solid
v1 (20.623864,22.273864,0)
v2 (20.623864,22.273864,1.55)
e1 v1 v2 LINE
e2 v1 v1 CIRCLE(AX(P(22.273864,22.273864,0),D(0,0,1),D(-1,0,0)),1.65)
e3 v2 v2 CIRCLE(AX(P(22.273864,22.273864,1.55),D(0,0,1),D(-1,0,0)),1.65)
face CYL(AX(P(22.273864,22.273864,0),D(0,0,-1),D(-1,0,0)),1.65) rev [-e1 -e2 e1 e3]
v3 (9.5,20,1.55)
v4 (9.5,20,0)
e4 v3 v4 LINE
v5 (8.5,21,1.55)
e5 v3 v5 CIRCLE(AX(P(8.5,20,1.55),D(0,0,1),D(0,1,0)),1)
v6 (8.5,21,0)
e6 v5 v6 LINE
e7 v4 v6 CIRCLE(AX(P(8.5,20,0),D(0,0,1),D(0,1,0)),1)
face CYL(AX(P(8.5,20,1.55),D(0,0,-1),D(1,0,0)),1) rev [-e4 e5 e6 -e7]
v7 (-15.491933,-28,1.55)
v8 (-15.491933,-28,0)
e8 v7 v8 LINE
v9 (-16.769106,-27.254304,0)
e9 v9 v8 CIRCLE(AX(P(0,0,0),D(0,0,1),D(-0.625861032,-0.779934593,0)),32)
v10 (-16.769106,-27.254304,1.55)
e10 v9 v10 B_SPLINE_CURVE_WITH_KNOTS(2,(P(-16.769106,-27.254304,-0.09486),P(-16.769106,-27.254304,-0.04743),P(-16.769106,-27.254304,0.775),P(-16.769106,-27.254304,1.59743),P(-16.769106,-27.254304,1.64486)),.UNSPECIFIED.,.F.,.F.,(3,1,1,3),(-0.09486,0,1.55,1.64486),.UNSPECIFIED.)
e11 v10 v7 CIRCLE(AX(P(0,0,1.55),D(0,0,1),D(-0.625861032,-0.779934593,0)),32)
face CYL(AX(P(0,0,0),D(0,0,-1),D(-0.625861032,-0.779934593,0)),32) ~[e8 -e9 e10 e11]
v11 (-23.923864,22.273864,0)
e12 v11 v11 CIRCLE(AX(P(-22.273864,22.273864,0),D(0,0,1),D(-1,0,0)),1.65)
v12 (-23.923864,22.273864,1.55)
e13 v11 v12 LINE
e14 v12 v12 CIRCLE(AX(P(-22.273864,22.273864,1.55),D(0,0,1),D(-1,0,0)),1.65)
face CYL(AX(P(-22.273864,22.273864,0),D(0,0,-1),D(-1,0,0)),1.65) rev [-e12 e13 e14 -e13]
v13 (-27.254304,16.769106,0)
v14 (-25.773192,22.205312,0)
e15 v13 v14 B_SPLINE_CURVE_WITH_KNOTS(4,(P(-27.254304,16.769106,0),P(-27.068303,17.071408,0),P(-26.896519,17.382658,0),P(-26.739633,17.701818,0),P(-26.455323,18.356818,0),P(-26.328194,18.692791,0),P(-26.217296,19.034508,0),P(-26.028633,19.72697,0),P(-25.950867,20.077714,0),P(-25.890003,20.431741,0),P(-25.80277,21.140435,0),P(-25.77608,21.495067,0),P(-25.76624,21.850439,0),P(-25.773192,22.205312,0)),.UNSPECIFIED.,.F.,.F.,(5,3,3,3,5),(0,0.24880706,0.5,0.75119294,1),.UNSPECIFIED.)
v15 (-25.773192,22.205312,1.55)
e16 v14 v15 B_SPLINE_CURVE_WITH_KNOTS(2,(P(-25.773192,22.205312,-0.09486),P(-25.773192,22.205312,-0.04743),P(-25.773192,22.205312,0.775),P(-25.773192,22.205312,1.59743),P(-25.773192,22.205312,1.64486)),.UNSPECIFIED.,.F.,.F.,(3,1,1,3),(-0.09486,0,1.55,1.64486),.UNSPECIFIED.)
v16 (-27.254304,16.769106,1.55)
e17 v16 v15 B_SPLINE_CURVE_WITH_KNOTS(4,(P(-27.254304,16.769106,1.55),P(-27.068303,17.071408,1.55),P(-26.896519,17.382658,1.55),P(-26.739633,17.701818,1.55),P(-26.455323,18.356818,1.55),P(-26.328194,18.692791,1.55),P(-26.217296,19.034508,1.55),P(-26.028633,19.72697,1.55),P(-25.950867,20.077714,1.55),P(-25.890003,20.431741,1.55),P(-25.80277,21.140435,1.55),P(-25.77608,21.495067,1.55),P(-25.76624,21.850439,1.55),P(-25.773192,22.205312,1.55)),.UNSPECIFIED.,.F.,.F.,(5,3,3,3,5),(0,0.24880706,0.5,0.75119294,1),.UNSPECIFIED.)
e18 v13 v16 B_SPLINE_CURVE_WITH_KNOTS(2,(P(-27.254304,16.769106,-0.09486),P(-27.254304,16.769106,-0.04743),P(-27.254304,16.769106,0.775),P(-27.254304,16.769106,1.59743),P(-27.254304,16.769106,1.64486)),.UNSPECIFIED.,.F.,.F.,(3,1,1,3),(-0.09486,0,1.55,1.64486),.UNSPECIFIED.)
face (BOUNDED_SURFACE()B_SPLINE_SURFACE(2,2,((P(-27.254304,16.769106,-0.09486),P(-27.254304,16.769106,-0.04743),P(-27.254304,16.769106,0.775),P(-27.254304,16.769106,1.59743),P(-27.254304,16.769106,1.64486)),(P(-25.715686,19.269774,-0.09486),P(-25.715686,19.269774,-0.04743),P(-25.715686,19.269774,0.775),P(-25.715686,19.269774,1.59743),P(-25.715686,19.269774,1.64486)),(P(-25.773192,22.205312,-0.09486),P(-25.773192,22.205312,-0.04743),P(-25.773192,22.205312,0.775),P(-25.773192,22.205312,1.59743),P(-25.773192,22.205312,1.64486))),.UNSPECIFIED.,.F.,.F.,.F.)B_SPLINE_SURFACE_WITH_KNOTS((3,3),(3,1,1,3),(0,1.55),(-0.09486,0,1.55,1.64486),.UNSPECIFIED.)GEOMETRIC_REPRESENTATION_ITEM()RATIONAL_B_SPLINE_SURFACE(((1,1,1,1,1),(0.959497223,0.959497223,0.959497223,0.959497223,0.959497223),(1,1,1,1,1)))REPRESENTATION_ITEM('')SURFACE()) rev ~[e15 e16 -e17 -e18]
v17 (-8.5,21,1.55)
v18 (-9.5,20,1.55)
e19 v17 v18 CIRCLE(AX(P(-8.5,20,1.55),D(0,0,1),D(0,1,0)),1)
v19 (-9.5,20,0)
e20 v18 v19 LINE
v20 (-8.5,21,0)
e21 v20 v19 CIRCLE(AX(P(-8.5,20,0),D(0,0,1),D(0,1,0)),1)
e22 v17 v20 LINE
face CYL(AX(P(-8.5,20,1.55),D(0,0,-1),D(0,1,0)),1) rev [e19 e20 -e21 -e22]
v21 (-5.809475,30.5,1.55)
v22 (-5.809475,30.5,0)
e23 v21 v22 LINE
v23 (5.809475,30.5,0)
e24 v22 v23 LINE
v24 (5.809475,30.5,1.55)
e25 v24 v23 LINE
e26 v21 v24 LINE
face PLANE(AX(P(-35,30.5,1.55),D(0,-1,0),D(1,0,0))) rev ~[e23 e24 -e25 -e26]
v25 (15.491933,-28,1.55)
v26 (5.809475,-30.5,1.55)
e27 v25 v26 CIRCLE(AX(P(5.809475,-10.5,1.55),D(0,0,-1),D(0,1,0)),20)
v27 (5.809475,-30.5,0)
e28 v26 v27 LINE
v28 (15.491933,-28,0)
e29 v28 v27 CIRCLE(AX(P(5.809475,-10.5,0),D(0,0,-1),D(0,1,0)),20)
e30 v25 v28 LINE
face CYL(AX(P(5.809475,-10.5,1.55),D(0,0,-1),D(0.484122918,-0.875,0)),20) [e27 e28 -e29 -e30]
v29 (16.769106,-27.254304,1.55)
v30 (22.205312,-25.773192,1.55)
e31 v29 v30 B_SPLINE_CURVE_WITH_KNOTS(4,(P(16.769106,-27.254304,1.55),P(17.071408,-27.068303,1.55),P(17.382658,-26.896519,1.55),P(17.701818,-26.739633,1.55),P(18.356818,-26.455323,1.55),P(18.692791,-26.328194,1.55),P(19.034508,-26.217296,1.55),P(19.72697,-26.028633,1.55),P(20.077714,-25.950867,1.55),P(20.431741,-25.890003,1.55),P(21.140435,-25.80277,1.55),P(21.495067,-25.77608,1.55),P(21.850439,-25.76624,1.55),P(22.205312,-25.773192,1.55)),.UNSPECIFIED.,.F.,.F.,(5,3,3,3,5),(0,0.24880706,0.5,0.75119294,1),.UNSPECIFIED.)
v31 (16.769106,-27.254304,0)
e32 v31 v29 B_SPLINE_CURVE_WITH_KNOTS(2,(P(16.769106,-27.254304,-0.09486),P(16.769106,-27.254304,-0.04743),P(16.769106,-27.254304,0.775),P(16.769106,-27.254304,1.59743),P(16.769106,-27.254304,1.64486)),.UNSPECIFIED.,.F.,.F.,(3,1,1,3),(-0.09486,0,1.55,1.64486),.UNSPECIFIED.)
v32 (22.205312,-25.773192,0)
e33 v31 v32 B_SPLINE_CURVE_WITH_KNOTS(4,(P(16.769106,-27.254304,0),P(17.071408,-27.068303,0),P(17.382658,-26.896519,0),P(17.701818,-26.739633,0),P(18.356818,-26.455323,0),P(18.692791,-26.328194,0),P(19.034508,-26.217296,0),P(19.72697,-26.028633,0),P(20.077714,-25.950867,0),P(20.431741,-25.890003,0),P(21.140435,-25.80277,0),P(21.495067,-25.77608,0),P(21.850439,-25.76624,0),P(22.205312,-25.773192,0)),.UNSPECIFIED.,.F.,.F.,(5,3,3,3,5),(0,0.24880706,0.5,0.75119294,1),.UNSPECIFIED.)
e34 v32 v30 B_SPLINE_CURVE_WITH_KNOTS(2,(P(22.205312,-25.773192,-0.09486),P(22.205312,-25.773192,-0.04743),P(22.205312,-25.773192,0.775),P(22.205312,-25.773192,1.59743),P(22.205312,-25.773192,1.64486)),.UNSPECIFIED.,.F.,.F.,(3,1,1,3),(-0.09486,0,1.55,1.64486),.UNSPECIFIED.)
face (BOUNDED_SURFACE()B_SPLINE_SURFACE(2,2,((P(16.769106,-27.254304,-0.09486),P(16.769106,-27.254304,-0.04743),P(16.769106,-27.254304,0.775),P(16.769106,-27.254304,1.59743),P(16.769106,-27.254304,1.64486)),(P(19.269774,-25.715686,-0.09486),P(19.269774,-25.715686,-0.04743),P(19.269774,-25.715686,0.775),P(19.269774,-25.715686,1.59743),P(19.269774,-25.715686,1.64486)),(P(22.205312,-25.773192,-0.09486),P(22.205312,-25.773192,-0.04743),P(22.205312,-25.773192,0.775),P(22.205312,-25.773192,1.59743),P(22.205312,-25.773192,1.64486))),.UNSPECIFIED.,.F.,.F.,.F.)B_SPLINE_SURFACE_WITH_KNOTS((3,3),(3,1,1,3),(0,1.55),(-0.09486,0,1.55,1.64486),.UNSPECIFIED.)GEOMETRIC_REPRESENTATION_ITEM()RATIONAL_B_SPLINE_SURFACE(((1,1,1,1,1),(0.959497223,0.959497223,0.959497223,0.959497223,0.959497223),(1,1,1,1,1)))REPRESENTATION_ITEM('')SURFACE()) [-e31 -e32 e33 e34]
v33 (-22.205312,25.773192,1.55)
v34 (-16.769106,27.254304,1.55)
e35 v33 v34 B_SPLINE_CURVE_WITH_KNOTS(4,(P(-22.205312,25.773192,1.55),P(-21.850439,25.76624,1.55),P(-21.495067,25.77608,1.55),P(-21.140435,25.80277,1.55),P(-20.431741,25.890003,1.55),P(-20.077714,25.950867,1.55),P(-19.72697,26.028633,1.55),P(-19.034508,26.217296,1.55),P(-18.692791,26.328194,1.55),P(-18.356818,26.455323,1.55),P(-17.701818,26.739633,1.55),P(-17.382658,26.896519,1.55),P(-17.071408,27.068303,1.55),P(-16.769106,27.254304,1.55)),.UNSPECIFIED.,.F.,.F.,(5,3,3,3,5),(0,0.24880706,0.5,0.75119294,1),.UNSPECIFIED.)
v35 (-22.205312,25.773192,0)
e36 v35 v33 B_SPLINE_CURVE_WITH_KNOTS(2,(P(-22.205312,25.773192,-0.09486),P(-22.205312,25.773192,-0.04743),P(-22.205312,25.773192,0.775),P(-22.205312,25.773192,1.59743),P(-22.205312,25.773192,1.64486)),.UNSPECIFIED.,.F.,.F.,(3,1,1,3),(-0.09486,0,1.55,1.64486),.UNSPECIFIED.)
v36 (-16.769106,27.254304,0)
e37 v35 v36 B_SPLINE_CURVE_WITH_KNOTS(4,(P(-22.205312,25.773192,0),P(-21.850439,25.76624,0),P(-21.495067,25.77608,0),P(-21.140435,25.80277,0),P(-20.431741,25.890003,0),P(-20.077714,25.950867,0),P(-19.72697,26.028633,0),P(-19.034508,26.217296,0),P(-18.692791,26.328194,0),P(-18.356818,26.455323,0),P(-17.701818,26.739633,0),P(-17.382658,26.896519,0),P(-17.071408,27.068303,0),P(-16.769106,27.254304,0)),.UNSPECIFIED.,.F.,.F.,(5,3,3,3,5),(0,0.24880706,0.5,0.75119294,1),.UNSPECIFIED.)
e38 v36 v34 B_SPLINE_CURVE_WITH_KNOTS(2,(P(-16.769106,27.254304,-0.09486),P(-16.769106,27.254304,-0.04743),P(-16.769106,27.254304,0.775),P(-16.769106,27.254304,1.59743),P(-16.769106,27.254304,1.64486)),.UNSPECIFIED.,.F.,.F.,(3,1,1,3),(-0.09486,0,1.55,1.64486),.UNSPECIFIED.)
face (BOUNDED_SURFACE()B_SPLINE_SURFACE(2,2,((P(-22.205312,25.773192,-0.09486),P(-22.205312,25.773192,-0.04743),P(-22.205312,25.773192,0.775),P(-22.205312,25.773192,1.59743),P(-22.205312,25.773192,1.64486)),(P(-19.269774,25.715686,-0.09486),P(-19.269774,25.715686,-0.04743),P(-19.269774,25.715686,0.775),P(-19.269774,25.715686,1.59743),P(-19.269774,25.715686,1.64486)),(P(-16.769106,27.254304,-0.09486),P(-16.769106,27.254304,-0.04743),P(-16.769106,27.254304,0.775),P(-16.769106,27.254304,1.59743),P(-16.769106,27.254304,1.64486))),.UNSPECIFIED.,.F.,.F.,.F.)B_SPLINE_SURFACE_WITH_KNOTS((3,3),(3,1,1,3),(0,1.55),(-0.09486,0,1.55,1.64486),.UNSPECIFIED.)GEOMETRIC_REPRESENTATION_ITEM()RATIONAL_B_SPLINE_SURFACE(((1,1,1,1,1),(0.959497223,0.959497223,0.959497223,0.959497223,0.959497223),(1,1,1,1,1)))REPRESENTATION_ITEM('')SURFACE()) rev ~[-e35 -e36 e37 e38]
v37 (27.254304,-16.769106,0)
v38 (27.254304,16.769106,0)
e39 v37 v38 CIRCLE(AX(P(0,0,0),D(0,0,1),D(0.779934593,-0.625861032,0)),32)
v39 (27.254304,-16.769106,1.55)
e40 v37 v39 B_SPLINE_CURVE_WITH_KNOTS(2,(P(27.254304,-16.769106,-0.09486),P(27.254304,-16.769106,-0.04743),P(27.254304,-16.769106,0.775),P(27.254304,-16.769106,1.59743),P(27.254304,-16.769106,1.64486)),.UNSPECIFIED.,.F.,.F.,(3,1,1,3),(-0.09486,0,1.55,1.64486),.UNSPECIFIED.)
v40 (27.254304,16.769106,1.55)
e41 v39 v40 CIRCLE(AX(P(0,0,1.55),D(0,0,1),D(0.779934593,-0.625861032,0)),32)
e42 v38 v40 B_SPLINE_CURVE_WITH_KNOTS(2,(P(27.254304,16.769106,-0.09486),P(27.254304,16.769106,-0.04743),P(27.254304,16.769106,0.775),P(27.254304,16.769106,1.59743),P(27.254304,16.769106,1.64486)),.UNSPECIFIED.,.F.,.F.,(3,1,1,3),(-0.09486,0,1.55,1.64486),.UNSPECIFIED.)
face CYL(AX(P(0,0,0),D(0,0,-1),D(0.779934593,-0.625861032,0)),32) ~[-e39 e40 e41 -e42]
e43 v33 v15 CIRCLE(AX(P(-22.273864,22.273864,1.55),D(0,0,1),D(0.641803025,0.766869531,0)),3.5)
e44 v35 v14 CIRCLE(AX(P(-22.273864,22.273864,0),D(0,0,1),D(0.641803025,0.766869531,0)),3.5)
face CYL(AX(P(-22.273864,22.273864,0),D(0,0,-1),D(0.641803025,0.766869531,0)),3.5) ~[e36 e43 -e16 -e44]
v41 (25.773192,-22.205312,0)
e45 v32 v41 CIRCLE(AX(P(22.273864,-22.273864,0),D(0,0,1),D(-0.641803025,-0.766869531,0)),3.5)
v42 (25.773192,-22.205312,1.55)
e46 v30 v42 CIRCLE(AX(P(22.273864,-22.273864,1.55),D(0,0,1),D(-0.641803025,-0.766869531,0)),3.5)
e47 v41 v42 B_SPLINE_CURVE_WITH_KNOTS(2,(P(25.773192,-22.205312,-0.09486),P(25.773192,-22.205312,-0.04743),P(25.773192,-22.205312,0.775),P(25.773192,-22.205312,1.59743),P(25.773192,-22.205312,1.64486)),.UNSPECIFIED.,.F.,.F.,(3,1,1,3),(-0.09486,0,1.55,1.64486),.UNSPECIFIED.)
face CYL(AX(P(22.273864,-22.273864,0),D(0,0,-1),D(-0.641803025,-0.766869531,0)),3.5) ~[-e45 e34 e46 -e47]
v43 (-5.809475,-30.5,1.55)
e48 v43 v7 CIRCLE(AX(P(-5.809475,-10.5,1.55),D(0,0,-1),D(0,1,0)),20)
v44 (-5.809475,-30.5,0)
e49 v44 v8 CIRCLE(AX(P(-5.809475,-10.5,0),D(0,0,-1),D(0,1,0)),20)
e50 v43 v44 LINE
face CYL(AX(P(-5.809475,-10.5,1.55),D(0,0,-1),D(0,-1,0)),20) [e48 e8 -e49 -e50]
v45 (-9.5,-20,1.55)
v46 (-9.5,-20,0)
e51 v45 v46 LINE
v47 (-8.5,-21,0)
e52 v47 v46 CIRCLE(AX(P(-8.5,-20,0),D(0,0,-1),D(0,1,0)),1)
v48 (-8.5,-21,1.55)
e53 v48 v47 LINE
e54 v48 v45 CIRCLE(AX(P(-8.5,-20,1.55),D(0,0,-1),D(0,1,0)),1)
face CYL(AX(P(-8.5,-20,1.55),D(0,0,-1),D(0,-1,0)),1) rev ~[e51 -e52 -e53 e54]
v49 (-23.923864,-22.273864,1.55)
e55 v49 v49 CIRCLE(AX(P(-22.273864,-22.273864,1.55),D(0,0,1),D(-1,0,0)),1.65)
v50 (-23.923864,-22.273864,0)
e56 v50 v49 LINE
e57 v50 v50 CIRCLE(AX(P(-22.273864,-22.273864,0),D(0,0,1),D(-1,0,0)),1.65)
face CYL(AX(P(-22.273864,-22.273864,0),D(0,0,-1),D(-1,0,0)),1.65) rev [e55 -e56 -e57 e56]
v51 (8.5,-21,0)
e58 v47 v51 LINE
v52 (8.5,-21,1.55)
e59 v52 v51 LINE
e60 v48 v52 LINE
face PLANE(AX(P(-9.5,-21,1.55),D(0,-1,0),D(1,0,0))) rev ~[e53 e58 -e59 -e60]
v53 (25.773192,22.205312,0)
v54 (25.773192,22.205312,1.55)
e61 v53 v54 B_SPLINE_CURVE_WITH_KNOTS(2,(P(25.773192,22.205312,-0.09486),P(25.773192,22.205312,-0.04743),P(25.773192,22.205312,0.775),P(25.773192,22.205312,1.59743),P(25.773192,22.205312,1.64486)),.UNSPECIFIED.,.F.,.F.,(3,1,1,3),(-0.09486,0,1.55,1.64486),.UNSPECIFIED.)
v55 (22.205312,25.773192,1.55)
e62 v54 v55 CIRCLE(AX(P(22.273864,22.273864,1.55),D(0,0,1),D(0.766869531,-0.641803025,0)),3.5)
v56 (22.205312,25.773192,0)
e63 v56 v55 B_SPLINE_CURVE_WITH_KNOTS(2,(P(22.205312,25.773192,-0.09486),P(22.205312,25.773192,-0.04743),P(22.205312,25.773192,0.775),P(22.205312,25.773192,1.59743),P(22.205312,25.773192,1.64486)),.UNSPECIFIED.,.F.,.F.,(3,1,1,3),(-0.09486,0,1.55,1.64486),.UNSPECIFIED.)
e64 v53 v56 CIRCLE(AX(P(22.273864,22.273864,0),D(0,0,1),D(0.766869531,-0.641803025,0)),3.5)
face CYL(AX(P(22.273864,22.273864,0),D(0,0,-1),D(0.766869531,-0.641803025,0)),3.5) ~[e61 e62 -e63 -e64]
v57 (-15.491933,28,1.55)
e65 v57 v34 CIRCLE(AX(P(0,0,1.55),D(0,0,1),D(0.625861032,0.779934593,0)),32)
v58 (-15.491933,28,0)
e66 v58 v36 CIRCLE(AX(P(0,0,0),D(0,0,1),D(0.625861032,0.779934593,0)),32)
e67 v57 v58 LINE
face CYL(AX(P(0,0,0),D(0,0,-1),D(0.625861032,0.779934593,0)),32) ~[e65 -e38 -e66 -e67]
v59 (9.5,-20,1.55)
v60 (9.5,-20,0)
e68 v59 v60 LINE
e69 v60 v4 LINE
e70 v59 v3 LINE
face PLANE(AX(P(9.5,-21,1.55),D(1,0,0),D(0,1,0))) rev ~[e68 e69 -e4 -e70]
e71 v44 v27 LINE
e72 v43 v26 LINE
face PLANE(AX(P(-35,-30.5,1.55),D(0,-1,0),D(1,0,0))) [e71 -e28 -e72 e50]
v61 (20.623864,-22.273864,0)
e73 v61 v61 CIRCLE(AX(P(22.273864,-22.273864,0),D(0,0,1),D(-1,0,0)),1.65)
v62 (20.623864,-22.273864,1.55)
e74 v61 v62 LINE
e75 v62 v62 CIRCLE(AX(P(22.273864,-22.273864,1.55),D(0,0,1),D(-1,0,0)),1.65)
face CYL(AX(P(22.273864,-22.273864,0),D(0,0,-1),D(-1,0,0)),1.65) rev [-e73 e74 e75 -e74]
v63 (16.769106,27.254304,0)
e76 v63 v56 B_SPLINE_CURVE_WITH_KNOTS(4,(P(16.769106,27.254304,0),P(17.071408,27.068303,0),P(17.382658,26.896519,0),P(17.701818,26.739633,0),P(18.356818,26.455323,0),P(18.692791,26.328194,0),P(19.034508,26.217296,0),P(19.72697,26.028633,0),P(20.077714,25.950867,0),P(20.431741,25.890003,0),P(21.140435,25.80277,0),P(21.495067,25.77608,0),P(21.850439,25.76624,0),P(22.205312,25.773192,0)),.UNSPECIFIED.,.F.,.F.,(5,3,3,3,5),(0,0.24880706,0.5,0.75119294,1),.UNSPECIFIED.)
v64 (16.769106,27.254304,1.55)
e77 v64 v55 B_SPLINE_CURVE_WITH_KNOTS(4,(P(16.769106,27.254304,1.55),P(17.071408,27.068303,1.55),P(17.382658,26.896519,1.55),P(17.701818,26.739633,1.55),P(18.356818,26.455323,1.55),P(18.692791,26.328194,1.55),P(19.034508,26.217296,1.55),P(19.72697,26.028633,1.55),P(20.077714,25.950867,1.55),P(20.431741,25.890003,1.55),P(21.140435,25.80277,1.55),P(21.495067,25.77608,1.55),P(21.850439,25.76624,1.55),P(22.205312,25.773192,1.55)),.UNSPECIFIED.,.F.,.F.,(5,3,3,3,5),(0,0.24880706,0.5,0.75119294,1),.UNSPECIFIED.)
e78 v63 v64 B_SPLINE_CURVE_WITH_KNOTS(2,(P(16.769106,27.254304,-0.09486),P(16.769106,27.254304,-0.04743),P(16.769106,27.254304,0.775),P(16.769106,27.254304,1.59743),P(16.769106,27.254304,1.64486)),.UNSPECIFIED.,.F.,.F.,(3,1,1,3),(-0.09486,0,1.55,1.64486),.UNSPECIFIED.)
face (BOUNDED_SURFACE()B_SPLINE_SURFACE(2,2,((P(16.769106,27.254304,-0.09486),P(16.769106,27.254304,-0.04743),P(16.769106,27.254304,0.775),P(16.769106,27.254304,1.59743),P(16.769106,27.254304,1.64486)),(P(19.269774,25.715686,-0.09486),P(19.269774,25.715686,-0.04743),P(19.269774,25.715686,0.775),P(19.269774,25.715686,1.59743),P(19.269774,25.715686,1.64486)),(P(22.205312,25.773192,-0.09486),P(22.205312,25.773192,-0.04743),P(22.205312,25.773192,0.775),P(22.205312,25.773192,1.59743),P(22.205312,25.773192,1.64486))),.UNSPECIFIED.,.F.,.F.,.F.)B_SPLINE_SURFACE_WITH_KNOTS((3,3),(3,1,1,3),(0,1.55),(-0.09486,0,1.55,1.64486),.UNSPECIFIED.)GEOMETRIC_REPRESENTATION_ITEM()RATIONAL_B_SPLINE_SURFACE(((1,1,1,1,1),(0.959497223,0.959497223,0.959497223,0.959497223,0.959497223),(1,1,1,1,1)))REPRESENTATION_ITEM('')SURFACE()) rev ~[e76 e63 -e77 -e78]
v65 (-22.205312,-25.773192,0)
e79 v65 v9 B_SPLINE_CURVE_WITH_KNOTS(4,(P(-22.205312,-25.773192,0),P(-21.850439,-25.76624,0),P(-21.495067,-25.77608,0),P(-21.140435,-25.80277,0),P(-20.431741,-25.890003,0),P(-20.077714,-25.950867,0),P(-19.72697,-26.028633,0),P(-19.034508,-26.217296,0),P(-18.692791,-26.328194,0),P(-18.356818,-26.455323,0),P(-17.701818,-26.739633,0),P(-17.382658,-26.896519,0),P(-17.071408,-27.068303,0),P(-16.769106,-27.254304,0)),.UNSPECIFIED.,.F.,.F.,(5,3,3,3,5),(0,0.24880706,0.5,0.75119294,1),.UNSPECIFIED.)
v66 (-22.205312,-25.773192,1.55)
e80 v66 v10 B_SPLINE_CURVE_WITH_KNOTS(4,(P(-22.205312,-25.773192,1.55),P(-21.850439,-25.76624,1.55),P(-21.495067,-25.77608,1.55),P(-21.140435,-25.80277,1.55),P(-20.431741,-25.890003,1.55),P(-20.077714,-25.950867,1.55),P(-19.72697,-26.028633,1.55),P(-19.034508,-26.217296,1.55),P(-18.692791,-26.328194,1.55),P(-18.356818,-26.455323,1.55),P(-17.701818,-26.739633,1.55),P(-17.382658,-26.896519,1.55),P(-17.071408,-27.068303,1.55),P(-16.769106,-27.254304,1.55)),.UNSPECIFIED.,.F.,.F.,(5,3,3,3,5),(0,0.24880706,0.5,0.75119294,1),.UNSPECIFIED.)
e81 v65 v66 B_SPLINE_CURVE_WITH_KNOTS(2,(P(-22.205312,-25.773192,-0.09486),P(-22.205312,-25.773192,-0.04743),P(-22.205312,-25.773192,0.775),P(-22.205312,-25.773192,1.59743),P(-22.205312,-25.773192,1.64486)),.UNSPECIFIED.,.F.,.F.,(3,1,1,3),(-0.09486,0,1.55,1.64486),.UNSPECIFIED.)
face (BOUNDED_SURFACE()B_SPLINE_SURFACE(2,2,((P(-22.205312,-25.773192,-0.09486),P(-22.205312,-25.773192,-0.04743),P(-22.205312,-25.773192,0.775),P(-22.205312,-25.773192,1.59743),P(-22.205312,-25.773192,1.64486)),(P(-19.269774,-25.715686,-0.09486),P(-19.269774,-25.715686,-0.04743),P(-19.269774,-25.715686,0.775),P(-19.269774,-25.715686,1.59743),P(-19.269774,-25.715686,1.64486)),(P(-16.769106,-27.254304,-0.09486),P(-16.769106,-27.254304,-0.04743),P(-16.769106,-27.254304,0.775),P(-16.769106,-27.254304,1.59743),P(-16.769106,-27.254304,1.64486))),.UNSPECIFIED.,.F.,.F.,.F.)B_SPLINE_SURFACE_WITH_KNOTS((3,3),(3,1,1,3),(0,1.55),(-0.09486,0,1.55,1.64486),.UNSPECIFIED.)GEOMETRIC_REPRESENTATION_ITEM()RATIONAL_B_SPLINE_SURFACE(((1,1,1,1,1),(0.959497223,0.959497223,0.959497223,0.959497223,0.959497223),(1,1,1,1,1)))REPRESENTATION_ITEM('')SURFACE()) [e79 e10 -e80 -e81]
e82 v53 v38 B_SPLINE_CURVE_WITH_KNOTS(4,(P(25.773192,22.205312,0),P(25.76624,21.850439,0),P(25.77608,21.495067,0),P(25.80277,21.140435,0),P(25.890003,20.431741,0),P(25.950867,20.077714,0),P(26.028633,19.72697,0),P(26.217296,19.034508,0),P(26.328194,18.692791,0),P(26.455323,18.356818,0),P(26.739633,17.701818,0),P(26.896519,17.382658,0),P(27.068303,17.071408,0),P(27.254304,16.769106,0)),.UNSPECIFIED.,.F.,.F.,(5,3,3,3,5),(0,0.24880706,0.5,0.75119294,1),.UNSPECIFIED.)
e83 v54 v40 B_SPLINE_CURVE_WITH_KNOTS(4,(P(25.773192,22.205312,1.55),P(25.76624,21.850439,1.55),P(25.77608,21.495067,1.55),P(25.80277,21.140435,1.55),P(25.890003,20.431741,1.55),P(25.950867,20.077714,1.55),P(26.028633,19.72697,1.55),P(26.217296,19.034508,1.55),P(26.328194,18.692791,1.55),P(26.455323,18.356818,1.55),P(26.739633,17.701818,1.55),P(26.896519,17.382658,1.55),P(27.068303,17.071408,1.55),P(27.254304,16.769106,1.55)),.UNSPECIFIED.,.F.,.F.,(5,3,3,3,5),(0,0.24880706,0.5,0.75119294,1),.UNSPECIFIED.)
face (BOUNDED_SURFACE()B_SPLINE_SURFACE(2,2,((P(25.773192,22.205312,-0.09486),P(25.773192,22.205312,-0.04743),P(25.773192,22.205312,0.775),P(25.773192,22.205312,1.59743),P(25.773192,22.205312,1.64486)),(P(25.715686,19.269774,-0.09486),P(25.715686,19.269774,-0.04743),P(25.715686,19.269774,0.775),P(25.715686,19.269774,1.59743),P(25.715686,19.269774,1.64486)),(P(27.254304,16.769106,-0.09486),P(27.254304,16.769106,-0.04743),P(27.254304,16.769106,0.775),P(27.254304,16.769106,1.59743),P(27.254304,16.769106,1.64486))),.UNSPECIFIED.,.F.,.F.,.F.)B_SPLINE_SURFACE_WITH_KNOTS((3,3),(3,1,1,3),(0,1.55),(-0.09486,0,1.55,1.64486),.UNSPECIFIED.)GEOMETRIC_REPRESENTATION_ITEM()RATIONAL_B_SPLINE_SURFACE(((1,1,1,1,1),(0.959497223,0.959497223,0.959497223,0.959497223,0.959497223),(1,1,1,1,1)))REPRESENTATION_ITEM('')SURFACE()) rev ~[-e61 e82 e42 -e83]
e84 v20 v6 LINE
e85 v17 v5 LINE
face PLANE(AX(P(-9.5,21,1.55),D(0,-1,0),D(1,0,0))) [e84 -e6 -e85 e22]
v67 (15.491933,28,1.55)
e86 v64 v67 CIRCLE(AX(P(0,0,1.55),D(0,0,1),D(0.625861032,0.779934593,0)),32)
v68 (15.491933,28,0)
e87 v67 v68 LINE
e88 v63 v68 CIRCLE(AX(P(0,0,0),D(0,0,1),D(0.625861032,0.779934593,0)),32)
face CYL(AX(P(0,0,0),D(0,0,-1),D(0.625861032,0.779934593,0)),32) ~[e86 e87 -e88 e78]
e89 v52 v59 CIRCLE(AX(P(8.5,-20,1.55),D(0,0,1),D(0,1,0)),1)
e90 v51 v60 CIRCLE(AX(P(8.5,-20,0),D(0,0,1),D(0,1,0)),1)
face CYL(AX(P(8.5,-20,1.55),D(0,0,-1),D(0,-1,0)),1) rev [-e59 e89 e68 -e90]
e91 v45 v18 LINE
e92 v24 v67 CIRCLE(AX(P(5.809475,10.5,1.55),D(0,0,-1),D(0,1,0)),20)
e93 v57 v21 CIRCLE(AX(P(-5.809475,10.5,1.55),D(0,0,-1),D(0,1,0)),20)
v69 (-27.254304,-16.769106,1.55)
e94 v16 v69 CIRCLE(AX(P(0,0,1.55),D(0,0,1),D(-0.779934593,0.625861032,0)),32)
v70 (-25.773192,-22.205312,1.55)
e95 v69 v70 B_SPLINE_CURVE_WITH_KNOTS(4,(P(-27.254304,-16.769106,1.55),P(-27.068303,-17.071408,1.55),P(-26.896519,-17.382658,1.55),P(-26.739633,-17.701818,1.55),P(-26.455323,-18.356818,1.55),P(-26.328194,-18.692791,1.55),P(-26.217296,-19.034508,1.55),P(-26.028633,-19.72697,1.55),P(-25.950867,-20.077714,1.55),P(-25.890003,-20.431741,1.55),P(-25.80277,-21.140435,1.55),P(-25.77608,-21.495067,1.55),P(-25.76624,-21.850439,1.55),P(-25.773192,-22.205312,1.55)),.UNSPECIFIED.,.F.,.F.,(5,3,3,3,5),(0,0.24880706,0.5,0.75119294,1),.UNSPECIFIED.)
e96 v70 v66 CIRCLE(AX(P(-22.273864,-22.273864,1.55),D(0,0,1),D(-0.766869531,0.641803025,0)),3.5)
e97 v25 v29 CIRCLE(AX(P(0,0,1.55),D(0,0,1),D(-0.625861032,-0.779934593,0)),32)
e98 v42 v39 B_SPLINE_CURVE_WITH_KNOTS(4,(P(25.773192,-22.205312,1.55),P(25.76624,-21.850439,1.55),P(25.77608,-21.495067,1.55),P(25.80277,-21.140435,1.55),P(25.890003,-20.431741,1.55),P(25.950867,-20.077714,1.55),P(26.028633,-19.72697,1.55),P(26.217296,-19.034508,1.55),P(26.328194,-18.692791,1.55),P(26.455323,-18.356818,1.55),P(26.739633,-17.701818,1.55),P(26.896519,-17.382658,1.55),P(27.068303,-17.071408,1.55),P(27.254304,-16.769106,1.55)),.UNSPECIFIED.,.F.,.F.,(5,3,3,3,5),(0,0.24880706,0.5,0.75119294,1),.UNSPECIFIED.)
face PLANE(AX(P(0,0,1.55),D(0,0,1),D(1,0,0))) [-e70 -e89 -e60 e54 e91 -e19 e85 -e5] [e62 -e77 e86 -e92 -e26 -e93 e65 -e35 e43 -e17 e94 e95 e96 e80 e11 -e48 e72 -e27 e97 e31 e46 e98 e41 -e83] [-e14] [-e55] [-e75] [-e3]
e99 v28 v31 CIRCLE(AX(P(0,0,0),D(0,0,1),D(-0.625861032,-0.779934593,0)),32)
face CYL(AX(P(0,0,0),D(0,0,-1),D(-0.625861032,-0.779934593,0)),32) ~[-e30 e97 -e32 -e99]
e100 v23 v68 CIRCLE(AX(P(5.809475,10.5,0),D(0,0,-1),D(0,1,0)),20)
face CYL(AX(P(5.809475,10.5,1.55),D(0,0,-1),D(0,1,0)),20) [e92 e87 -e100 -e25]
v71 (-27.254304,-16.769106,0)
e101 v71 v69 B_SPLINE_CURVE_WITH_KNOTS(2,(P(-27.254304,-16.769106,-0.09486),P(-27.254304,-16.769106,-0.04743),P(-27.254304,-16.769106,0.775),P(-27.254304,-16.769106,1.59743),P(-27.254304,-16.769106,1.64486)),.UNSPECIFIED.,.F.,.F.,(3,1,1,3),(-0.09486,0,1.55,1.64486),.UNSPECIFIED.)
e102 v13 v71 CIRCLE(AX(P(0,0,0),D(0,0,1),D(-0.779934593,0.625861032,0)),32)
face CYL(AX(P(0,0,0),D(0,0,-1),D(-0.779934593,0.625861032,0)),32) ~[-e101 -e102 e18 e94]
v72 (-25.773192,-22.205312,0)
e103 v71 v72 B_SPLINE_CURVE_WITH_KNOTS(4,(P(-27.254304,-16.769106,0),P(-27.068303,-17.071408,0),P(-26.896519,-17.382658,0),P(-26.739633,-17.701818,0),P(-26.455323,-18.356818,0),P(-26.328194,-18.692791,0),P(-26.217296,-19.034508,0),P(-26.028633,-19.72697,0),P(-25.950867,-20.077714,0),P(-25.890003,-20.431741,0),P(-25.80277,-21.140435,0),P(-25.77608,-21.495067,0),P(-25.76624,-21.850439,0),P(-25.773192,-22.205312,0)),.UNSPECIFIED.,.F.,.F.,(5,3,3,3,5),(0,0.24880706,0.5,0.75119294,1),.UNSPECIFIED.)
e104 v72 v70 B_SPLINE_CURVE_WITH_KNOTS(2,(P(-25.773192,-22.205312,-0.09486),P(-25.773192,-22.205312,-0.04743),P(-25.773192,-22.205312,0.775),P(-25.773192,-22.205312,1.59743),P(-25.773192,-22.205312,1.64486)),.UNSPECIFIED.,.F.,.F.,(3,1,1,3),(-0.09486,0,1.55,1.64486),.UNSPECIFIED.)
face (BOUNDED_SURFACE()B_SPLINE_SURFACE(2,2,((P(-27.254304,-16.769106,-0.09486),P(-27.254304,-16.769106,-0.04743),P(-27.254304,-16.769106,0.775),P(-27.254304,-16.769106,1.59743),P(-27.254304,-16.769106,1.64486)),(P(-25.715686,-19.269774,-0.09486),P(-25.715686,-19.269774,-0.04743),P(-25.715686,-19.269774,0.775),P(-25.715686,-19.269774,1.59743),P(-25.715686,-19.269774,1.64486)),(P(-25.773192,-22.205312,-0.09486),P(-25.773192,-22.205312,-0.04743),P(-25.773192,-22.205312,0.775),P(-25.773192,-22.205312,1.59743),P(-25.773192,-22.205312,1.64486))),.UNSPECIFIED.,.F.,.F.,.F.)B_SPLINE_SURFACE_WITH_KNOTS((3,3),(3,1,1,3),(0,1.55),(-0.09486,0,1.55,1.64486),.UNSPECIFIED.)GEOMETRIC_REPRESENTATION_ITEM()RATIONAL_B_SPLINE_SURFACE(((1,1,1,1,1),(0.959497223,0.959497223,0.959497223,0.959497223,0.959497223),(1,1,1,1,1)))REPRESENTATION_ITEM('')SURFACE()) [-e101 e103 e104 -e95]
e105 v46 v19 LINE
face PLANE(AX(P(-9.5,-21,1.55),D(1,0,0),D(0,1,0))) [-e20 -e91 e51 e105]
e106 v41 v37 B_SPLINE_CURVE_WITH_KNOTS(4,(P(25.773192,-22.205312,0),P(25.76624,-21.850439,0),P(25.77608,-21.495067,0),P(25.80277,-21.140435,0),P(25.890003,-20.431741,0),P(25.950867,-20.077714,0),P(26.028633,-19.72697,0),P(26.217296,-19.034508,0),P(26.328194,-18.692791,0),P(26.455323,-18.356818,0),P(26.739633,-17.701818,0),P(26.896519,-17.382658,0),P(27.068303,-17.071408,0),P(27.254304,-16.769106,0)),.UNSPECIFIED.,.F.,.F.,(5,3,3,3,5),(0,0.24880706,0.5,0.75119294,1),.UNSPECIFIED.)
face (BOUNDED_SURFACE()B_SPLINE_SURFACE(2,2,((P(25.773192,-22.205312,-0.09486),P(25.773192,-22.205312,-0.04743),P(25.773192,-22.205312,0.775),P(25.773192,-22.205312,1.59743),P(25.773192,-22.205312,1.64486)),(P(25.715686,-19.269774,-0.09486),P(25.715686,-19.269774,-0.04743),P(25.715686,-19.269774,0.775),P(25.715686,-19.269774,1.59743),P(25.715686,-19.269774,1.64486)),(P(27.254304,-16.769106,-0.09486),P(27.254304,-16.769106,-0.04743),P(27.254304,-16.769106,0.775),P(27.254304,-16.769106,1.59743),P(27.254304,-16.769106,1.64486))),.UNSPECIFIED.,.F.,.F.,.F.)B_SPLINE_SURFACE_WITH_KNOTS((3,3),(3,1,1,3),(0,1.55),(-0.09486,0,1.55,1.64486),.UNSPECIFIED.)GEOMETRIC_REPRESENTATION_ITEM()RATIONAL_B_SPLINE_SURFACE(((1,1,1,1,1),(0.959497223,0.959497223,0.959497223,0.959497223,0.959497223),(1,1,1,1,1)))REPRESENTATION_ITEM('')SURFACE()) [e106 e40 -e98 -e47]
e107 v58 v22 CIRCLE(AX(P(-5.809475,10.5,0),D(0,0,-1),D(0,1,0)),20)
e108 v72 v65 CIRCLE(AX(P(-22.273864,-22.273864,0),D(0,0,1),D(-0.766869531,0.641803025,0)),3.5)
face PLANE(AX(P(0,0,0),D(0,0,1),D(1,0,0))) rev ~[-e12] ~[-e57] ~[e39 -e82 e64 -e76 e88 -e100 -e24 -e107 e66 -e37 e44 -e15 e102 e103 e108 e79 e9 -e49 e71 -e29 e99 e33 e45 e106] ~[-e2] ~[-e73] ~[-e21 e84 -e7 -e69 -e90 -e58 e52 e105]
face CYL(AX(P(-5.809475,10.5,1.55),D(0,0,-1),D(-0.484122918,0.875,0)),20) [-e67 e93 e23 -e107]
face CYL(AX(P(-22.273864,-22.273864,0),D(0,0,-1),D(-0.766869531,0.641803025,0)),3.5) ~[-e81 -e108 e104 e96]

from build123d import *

# Parameters (mm, degrees)
ESQUISSE1_R             = 1.65
BOSS_EXTRU_1_DEPTH      = 1.55
ESQUISSE2_W             = 19
ESQUISSE2_H             = 42
ENL_V_MAT_EXTRU_1_DEPTH = 46.281370341
CONG_1_R                = 10
CONG_2_R                = 1
ESQUISSE3_OUTSIDE_W     = 84.104
ESQUISSE3_OUTSIDE_H     = 84.104
ESQUISSE3_OUTSIDE_W_2   = 70
ESQUISSE3_OUTSIDE_H_2   = 61
ENL_V_MAT_EXTRU_2_DEPTH = 46.281370486
CONG_3_R                = 20


with BuildPart() as part:
    # Esquisse1 → Boss.-Extru.1 (new body)
    with BuildSketch(Plane.XY):
        with BuildLine():
            ThreePointArc((-24.957906965, 20.02755302), (-32, 0), (-24.957906965, -20.02755302))
            ThreePointArc((-24.957906965, -20.02755302), (-24.748737342, -24.748737342), (-20.02755302, -24.957906965))
            ThreePointArc((-20.02755302, -24.957906965), (0, -32), (20.02755302, -24.957906965))
            ThreePointArc((20.02755302, -24.957906965), (24.748737342, -24.748737342), (24.957906965, -20.02755302))
            ThreePointArc((24.957906965, -20.02755302), (32, 0), (24.957906965, 20.02755302))
            ThreePointArc((24.957906965, 20.02755302), (24.748737342, 24.748737342), (20.02755302, 24.957906965))
            ThreePointArc((20.02755302, 24.957906965), (0, 32), (-20.02755302, 24.957906965))
            ThreePointArc((-20.02755302, 24.957906965), (-24.748737342, 24.748737342), (-24.957906965, 20.02755302))
        make_face()
        with Locations(Location((-22.273863607, 22.273863607, 0), (0, 0, 180))):
            Circle(ESQUISSE1_R, mode=Mode.SUBTRACT)
        with Locations(Location((22.273863607, 22.273863607, 0), (0, 0, 180))):
            Circle(ESQUISSE1_R, mode=Mode.SUBTRACT)
        with Locations(Location((22.273863607, -22.273863607, 0), (0, 0, 180))):
            Circle(ESQUISSE1_R, mode=Mode.SUBTRACT)
        with Locations(Location((-22.273863607, -22.273863607, 0), (0, 0, 180))):
            Circle(ESQUISSE1_R, mode=Mode.SUBTRACT)
    extrude(amount=BOSS_EXTRU_1_DEPTH)

    # Esquisse2 → Enlèv. mat.-Extru.1 (cut, through all)
    with BuildSketch(Plane.XY.offset(1.55)):
        Rectangle(ESQUISSE2_W, ESQUISSE2_H)
    extrude(amount=-ENL_V_MAT_EXTRU_1_DEPTH, mode=Mode.SUBTRACT)

    # Congé1
    cong_1_edges = [part.edges().sort_by_distance(p)[0] for p in [
        (20.02755302, 24.957906965, 0.775),
        (24.957906965, 20.02755302, 0.775),
        (24.957906965, -20.02755302, 0.775),
        (20.02755302, -24.957906965, 0.775),
        (-20.02755302, -24.957906965, 0.775),
        (-24.957906965, -20.02755302, 0.775),
        (-24.957906965, 20.02755302, 0.775),
        (-20.02755302, 24.957906965, 0.775),
    ]]
    fillet(cong_1_edges, radius=CONG_1_R)

    # Congé2
    cong_2_edges = [part.edges().sort_by_distance(p)[0] for p in [
        (-9.5, -21, 0.775),
        (-9.5, 21, 0.775),
        (9.5, 21, 0.775),
        (9.5, -21, 0.775),
    ]]
    fillet(cong_2_edges, radius=CONG_2_R)

    # Esquisse3 outside → Enlèv. mat.-Extru.2 (cut, through all)
    with BuildSketch(Plane.XY.offset(1.55)):
        Rectangle(ESQUISSE3_OUTSIDE_W, ESQUISSE3_OUTSIDE_H)
        Rectangle(ESQUISSE3_OUTSIDE_W_2, ESQUISSE3_OUTSIDE_H_2, mode=Mode.SUBTRACT)
    extrude(amount=-ENL_V_MAT_EXTRU_2_DEPTH, mode=Mode.SUBTRACT)

    # Congé3
    cong_3_edges = [part.edges().sort_by_distance(p)[0] for p in [
        (9.682458366, -30.5, 0.775),
        (-9.682458366, -30.5, 0.775),
        (-9.682458366, 30.5, 0.775),
        (9.682458366, 30.5, 0.775),
    ]]
    fillet(cong_3_edges, radius=CONG_3_R)


solid = part.part
